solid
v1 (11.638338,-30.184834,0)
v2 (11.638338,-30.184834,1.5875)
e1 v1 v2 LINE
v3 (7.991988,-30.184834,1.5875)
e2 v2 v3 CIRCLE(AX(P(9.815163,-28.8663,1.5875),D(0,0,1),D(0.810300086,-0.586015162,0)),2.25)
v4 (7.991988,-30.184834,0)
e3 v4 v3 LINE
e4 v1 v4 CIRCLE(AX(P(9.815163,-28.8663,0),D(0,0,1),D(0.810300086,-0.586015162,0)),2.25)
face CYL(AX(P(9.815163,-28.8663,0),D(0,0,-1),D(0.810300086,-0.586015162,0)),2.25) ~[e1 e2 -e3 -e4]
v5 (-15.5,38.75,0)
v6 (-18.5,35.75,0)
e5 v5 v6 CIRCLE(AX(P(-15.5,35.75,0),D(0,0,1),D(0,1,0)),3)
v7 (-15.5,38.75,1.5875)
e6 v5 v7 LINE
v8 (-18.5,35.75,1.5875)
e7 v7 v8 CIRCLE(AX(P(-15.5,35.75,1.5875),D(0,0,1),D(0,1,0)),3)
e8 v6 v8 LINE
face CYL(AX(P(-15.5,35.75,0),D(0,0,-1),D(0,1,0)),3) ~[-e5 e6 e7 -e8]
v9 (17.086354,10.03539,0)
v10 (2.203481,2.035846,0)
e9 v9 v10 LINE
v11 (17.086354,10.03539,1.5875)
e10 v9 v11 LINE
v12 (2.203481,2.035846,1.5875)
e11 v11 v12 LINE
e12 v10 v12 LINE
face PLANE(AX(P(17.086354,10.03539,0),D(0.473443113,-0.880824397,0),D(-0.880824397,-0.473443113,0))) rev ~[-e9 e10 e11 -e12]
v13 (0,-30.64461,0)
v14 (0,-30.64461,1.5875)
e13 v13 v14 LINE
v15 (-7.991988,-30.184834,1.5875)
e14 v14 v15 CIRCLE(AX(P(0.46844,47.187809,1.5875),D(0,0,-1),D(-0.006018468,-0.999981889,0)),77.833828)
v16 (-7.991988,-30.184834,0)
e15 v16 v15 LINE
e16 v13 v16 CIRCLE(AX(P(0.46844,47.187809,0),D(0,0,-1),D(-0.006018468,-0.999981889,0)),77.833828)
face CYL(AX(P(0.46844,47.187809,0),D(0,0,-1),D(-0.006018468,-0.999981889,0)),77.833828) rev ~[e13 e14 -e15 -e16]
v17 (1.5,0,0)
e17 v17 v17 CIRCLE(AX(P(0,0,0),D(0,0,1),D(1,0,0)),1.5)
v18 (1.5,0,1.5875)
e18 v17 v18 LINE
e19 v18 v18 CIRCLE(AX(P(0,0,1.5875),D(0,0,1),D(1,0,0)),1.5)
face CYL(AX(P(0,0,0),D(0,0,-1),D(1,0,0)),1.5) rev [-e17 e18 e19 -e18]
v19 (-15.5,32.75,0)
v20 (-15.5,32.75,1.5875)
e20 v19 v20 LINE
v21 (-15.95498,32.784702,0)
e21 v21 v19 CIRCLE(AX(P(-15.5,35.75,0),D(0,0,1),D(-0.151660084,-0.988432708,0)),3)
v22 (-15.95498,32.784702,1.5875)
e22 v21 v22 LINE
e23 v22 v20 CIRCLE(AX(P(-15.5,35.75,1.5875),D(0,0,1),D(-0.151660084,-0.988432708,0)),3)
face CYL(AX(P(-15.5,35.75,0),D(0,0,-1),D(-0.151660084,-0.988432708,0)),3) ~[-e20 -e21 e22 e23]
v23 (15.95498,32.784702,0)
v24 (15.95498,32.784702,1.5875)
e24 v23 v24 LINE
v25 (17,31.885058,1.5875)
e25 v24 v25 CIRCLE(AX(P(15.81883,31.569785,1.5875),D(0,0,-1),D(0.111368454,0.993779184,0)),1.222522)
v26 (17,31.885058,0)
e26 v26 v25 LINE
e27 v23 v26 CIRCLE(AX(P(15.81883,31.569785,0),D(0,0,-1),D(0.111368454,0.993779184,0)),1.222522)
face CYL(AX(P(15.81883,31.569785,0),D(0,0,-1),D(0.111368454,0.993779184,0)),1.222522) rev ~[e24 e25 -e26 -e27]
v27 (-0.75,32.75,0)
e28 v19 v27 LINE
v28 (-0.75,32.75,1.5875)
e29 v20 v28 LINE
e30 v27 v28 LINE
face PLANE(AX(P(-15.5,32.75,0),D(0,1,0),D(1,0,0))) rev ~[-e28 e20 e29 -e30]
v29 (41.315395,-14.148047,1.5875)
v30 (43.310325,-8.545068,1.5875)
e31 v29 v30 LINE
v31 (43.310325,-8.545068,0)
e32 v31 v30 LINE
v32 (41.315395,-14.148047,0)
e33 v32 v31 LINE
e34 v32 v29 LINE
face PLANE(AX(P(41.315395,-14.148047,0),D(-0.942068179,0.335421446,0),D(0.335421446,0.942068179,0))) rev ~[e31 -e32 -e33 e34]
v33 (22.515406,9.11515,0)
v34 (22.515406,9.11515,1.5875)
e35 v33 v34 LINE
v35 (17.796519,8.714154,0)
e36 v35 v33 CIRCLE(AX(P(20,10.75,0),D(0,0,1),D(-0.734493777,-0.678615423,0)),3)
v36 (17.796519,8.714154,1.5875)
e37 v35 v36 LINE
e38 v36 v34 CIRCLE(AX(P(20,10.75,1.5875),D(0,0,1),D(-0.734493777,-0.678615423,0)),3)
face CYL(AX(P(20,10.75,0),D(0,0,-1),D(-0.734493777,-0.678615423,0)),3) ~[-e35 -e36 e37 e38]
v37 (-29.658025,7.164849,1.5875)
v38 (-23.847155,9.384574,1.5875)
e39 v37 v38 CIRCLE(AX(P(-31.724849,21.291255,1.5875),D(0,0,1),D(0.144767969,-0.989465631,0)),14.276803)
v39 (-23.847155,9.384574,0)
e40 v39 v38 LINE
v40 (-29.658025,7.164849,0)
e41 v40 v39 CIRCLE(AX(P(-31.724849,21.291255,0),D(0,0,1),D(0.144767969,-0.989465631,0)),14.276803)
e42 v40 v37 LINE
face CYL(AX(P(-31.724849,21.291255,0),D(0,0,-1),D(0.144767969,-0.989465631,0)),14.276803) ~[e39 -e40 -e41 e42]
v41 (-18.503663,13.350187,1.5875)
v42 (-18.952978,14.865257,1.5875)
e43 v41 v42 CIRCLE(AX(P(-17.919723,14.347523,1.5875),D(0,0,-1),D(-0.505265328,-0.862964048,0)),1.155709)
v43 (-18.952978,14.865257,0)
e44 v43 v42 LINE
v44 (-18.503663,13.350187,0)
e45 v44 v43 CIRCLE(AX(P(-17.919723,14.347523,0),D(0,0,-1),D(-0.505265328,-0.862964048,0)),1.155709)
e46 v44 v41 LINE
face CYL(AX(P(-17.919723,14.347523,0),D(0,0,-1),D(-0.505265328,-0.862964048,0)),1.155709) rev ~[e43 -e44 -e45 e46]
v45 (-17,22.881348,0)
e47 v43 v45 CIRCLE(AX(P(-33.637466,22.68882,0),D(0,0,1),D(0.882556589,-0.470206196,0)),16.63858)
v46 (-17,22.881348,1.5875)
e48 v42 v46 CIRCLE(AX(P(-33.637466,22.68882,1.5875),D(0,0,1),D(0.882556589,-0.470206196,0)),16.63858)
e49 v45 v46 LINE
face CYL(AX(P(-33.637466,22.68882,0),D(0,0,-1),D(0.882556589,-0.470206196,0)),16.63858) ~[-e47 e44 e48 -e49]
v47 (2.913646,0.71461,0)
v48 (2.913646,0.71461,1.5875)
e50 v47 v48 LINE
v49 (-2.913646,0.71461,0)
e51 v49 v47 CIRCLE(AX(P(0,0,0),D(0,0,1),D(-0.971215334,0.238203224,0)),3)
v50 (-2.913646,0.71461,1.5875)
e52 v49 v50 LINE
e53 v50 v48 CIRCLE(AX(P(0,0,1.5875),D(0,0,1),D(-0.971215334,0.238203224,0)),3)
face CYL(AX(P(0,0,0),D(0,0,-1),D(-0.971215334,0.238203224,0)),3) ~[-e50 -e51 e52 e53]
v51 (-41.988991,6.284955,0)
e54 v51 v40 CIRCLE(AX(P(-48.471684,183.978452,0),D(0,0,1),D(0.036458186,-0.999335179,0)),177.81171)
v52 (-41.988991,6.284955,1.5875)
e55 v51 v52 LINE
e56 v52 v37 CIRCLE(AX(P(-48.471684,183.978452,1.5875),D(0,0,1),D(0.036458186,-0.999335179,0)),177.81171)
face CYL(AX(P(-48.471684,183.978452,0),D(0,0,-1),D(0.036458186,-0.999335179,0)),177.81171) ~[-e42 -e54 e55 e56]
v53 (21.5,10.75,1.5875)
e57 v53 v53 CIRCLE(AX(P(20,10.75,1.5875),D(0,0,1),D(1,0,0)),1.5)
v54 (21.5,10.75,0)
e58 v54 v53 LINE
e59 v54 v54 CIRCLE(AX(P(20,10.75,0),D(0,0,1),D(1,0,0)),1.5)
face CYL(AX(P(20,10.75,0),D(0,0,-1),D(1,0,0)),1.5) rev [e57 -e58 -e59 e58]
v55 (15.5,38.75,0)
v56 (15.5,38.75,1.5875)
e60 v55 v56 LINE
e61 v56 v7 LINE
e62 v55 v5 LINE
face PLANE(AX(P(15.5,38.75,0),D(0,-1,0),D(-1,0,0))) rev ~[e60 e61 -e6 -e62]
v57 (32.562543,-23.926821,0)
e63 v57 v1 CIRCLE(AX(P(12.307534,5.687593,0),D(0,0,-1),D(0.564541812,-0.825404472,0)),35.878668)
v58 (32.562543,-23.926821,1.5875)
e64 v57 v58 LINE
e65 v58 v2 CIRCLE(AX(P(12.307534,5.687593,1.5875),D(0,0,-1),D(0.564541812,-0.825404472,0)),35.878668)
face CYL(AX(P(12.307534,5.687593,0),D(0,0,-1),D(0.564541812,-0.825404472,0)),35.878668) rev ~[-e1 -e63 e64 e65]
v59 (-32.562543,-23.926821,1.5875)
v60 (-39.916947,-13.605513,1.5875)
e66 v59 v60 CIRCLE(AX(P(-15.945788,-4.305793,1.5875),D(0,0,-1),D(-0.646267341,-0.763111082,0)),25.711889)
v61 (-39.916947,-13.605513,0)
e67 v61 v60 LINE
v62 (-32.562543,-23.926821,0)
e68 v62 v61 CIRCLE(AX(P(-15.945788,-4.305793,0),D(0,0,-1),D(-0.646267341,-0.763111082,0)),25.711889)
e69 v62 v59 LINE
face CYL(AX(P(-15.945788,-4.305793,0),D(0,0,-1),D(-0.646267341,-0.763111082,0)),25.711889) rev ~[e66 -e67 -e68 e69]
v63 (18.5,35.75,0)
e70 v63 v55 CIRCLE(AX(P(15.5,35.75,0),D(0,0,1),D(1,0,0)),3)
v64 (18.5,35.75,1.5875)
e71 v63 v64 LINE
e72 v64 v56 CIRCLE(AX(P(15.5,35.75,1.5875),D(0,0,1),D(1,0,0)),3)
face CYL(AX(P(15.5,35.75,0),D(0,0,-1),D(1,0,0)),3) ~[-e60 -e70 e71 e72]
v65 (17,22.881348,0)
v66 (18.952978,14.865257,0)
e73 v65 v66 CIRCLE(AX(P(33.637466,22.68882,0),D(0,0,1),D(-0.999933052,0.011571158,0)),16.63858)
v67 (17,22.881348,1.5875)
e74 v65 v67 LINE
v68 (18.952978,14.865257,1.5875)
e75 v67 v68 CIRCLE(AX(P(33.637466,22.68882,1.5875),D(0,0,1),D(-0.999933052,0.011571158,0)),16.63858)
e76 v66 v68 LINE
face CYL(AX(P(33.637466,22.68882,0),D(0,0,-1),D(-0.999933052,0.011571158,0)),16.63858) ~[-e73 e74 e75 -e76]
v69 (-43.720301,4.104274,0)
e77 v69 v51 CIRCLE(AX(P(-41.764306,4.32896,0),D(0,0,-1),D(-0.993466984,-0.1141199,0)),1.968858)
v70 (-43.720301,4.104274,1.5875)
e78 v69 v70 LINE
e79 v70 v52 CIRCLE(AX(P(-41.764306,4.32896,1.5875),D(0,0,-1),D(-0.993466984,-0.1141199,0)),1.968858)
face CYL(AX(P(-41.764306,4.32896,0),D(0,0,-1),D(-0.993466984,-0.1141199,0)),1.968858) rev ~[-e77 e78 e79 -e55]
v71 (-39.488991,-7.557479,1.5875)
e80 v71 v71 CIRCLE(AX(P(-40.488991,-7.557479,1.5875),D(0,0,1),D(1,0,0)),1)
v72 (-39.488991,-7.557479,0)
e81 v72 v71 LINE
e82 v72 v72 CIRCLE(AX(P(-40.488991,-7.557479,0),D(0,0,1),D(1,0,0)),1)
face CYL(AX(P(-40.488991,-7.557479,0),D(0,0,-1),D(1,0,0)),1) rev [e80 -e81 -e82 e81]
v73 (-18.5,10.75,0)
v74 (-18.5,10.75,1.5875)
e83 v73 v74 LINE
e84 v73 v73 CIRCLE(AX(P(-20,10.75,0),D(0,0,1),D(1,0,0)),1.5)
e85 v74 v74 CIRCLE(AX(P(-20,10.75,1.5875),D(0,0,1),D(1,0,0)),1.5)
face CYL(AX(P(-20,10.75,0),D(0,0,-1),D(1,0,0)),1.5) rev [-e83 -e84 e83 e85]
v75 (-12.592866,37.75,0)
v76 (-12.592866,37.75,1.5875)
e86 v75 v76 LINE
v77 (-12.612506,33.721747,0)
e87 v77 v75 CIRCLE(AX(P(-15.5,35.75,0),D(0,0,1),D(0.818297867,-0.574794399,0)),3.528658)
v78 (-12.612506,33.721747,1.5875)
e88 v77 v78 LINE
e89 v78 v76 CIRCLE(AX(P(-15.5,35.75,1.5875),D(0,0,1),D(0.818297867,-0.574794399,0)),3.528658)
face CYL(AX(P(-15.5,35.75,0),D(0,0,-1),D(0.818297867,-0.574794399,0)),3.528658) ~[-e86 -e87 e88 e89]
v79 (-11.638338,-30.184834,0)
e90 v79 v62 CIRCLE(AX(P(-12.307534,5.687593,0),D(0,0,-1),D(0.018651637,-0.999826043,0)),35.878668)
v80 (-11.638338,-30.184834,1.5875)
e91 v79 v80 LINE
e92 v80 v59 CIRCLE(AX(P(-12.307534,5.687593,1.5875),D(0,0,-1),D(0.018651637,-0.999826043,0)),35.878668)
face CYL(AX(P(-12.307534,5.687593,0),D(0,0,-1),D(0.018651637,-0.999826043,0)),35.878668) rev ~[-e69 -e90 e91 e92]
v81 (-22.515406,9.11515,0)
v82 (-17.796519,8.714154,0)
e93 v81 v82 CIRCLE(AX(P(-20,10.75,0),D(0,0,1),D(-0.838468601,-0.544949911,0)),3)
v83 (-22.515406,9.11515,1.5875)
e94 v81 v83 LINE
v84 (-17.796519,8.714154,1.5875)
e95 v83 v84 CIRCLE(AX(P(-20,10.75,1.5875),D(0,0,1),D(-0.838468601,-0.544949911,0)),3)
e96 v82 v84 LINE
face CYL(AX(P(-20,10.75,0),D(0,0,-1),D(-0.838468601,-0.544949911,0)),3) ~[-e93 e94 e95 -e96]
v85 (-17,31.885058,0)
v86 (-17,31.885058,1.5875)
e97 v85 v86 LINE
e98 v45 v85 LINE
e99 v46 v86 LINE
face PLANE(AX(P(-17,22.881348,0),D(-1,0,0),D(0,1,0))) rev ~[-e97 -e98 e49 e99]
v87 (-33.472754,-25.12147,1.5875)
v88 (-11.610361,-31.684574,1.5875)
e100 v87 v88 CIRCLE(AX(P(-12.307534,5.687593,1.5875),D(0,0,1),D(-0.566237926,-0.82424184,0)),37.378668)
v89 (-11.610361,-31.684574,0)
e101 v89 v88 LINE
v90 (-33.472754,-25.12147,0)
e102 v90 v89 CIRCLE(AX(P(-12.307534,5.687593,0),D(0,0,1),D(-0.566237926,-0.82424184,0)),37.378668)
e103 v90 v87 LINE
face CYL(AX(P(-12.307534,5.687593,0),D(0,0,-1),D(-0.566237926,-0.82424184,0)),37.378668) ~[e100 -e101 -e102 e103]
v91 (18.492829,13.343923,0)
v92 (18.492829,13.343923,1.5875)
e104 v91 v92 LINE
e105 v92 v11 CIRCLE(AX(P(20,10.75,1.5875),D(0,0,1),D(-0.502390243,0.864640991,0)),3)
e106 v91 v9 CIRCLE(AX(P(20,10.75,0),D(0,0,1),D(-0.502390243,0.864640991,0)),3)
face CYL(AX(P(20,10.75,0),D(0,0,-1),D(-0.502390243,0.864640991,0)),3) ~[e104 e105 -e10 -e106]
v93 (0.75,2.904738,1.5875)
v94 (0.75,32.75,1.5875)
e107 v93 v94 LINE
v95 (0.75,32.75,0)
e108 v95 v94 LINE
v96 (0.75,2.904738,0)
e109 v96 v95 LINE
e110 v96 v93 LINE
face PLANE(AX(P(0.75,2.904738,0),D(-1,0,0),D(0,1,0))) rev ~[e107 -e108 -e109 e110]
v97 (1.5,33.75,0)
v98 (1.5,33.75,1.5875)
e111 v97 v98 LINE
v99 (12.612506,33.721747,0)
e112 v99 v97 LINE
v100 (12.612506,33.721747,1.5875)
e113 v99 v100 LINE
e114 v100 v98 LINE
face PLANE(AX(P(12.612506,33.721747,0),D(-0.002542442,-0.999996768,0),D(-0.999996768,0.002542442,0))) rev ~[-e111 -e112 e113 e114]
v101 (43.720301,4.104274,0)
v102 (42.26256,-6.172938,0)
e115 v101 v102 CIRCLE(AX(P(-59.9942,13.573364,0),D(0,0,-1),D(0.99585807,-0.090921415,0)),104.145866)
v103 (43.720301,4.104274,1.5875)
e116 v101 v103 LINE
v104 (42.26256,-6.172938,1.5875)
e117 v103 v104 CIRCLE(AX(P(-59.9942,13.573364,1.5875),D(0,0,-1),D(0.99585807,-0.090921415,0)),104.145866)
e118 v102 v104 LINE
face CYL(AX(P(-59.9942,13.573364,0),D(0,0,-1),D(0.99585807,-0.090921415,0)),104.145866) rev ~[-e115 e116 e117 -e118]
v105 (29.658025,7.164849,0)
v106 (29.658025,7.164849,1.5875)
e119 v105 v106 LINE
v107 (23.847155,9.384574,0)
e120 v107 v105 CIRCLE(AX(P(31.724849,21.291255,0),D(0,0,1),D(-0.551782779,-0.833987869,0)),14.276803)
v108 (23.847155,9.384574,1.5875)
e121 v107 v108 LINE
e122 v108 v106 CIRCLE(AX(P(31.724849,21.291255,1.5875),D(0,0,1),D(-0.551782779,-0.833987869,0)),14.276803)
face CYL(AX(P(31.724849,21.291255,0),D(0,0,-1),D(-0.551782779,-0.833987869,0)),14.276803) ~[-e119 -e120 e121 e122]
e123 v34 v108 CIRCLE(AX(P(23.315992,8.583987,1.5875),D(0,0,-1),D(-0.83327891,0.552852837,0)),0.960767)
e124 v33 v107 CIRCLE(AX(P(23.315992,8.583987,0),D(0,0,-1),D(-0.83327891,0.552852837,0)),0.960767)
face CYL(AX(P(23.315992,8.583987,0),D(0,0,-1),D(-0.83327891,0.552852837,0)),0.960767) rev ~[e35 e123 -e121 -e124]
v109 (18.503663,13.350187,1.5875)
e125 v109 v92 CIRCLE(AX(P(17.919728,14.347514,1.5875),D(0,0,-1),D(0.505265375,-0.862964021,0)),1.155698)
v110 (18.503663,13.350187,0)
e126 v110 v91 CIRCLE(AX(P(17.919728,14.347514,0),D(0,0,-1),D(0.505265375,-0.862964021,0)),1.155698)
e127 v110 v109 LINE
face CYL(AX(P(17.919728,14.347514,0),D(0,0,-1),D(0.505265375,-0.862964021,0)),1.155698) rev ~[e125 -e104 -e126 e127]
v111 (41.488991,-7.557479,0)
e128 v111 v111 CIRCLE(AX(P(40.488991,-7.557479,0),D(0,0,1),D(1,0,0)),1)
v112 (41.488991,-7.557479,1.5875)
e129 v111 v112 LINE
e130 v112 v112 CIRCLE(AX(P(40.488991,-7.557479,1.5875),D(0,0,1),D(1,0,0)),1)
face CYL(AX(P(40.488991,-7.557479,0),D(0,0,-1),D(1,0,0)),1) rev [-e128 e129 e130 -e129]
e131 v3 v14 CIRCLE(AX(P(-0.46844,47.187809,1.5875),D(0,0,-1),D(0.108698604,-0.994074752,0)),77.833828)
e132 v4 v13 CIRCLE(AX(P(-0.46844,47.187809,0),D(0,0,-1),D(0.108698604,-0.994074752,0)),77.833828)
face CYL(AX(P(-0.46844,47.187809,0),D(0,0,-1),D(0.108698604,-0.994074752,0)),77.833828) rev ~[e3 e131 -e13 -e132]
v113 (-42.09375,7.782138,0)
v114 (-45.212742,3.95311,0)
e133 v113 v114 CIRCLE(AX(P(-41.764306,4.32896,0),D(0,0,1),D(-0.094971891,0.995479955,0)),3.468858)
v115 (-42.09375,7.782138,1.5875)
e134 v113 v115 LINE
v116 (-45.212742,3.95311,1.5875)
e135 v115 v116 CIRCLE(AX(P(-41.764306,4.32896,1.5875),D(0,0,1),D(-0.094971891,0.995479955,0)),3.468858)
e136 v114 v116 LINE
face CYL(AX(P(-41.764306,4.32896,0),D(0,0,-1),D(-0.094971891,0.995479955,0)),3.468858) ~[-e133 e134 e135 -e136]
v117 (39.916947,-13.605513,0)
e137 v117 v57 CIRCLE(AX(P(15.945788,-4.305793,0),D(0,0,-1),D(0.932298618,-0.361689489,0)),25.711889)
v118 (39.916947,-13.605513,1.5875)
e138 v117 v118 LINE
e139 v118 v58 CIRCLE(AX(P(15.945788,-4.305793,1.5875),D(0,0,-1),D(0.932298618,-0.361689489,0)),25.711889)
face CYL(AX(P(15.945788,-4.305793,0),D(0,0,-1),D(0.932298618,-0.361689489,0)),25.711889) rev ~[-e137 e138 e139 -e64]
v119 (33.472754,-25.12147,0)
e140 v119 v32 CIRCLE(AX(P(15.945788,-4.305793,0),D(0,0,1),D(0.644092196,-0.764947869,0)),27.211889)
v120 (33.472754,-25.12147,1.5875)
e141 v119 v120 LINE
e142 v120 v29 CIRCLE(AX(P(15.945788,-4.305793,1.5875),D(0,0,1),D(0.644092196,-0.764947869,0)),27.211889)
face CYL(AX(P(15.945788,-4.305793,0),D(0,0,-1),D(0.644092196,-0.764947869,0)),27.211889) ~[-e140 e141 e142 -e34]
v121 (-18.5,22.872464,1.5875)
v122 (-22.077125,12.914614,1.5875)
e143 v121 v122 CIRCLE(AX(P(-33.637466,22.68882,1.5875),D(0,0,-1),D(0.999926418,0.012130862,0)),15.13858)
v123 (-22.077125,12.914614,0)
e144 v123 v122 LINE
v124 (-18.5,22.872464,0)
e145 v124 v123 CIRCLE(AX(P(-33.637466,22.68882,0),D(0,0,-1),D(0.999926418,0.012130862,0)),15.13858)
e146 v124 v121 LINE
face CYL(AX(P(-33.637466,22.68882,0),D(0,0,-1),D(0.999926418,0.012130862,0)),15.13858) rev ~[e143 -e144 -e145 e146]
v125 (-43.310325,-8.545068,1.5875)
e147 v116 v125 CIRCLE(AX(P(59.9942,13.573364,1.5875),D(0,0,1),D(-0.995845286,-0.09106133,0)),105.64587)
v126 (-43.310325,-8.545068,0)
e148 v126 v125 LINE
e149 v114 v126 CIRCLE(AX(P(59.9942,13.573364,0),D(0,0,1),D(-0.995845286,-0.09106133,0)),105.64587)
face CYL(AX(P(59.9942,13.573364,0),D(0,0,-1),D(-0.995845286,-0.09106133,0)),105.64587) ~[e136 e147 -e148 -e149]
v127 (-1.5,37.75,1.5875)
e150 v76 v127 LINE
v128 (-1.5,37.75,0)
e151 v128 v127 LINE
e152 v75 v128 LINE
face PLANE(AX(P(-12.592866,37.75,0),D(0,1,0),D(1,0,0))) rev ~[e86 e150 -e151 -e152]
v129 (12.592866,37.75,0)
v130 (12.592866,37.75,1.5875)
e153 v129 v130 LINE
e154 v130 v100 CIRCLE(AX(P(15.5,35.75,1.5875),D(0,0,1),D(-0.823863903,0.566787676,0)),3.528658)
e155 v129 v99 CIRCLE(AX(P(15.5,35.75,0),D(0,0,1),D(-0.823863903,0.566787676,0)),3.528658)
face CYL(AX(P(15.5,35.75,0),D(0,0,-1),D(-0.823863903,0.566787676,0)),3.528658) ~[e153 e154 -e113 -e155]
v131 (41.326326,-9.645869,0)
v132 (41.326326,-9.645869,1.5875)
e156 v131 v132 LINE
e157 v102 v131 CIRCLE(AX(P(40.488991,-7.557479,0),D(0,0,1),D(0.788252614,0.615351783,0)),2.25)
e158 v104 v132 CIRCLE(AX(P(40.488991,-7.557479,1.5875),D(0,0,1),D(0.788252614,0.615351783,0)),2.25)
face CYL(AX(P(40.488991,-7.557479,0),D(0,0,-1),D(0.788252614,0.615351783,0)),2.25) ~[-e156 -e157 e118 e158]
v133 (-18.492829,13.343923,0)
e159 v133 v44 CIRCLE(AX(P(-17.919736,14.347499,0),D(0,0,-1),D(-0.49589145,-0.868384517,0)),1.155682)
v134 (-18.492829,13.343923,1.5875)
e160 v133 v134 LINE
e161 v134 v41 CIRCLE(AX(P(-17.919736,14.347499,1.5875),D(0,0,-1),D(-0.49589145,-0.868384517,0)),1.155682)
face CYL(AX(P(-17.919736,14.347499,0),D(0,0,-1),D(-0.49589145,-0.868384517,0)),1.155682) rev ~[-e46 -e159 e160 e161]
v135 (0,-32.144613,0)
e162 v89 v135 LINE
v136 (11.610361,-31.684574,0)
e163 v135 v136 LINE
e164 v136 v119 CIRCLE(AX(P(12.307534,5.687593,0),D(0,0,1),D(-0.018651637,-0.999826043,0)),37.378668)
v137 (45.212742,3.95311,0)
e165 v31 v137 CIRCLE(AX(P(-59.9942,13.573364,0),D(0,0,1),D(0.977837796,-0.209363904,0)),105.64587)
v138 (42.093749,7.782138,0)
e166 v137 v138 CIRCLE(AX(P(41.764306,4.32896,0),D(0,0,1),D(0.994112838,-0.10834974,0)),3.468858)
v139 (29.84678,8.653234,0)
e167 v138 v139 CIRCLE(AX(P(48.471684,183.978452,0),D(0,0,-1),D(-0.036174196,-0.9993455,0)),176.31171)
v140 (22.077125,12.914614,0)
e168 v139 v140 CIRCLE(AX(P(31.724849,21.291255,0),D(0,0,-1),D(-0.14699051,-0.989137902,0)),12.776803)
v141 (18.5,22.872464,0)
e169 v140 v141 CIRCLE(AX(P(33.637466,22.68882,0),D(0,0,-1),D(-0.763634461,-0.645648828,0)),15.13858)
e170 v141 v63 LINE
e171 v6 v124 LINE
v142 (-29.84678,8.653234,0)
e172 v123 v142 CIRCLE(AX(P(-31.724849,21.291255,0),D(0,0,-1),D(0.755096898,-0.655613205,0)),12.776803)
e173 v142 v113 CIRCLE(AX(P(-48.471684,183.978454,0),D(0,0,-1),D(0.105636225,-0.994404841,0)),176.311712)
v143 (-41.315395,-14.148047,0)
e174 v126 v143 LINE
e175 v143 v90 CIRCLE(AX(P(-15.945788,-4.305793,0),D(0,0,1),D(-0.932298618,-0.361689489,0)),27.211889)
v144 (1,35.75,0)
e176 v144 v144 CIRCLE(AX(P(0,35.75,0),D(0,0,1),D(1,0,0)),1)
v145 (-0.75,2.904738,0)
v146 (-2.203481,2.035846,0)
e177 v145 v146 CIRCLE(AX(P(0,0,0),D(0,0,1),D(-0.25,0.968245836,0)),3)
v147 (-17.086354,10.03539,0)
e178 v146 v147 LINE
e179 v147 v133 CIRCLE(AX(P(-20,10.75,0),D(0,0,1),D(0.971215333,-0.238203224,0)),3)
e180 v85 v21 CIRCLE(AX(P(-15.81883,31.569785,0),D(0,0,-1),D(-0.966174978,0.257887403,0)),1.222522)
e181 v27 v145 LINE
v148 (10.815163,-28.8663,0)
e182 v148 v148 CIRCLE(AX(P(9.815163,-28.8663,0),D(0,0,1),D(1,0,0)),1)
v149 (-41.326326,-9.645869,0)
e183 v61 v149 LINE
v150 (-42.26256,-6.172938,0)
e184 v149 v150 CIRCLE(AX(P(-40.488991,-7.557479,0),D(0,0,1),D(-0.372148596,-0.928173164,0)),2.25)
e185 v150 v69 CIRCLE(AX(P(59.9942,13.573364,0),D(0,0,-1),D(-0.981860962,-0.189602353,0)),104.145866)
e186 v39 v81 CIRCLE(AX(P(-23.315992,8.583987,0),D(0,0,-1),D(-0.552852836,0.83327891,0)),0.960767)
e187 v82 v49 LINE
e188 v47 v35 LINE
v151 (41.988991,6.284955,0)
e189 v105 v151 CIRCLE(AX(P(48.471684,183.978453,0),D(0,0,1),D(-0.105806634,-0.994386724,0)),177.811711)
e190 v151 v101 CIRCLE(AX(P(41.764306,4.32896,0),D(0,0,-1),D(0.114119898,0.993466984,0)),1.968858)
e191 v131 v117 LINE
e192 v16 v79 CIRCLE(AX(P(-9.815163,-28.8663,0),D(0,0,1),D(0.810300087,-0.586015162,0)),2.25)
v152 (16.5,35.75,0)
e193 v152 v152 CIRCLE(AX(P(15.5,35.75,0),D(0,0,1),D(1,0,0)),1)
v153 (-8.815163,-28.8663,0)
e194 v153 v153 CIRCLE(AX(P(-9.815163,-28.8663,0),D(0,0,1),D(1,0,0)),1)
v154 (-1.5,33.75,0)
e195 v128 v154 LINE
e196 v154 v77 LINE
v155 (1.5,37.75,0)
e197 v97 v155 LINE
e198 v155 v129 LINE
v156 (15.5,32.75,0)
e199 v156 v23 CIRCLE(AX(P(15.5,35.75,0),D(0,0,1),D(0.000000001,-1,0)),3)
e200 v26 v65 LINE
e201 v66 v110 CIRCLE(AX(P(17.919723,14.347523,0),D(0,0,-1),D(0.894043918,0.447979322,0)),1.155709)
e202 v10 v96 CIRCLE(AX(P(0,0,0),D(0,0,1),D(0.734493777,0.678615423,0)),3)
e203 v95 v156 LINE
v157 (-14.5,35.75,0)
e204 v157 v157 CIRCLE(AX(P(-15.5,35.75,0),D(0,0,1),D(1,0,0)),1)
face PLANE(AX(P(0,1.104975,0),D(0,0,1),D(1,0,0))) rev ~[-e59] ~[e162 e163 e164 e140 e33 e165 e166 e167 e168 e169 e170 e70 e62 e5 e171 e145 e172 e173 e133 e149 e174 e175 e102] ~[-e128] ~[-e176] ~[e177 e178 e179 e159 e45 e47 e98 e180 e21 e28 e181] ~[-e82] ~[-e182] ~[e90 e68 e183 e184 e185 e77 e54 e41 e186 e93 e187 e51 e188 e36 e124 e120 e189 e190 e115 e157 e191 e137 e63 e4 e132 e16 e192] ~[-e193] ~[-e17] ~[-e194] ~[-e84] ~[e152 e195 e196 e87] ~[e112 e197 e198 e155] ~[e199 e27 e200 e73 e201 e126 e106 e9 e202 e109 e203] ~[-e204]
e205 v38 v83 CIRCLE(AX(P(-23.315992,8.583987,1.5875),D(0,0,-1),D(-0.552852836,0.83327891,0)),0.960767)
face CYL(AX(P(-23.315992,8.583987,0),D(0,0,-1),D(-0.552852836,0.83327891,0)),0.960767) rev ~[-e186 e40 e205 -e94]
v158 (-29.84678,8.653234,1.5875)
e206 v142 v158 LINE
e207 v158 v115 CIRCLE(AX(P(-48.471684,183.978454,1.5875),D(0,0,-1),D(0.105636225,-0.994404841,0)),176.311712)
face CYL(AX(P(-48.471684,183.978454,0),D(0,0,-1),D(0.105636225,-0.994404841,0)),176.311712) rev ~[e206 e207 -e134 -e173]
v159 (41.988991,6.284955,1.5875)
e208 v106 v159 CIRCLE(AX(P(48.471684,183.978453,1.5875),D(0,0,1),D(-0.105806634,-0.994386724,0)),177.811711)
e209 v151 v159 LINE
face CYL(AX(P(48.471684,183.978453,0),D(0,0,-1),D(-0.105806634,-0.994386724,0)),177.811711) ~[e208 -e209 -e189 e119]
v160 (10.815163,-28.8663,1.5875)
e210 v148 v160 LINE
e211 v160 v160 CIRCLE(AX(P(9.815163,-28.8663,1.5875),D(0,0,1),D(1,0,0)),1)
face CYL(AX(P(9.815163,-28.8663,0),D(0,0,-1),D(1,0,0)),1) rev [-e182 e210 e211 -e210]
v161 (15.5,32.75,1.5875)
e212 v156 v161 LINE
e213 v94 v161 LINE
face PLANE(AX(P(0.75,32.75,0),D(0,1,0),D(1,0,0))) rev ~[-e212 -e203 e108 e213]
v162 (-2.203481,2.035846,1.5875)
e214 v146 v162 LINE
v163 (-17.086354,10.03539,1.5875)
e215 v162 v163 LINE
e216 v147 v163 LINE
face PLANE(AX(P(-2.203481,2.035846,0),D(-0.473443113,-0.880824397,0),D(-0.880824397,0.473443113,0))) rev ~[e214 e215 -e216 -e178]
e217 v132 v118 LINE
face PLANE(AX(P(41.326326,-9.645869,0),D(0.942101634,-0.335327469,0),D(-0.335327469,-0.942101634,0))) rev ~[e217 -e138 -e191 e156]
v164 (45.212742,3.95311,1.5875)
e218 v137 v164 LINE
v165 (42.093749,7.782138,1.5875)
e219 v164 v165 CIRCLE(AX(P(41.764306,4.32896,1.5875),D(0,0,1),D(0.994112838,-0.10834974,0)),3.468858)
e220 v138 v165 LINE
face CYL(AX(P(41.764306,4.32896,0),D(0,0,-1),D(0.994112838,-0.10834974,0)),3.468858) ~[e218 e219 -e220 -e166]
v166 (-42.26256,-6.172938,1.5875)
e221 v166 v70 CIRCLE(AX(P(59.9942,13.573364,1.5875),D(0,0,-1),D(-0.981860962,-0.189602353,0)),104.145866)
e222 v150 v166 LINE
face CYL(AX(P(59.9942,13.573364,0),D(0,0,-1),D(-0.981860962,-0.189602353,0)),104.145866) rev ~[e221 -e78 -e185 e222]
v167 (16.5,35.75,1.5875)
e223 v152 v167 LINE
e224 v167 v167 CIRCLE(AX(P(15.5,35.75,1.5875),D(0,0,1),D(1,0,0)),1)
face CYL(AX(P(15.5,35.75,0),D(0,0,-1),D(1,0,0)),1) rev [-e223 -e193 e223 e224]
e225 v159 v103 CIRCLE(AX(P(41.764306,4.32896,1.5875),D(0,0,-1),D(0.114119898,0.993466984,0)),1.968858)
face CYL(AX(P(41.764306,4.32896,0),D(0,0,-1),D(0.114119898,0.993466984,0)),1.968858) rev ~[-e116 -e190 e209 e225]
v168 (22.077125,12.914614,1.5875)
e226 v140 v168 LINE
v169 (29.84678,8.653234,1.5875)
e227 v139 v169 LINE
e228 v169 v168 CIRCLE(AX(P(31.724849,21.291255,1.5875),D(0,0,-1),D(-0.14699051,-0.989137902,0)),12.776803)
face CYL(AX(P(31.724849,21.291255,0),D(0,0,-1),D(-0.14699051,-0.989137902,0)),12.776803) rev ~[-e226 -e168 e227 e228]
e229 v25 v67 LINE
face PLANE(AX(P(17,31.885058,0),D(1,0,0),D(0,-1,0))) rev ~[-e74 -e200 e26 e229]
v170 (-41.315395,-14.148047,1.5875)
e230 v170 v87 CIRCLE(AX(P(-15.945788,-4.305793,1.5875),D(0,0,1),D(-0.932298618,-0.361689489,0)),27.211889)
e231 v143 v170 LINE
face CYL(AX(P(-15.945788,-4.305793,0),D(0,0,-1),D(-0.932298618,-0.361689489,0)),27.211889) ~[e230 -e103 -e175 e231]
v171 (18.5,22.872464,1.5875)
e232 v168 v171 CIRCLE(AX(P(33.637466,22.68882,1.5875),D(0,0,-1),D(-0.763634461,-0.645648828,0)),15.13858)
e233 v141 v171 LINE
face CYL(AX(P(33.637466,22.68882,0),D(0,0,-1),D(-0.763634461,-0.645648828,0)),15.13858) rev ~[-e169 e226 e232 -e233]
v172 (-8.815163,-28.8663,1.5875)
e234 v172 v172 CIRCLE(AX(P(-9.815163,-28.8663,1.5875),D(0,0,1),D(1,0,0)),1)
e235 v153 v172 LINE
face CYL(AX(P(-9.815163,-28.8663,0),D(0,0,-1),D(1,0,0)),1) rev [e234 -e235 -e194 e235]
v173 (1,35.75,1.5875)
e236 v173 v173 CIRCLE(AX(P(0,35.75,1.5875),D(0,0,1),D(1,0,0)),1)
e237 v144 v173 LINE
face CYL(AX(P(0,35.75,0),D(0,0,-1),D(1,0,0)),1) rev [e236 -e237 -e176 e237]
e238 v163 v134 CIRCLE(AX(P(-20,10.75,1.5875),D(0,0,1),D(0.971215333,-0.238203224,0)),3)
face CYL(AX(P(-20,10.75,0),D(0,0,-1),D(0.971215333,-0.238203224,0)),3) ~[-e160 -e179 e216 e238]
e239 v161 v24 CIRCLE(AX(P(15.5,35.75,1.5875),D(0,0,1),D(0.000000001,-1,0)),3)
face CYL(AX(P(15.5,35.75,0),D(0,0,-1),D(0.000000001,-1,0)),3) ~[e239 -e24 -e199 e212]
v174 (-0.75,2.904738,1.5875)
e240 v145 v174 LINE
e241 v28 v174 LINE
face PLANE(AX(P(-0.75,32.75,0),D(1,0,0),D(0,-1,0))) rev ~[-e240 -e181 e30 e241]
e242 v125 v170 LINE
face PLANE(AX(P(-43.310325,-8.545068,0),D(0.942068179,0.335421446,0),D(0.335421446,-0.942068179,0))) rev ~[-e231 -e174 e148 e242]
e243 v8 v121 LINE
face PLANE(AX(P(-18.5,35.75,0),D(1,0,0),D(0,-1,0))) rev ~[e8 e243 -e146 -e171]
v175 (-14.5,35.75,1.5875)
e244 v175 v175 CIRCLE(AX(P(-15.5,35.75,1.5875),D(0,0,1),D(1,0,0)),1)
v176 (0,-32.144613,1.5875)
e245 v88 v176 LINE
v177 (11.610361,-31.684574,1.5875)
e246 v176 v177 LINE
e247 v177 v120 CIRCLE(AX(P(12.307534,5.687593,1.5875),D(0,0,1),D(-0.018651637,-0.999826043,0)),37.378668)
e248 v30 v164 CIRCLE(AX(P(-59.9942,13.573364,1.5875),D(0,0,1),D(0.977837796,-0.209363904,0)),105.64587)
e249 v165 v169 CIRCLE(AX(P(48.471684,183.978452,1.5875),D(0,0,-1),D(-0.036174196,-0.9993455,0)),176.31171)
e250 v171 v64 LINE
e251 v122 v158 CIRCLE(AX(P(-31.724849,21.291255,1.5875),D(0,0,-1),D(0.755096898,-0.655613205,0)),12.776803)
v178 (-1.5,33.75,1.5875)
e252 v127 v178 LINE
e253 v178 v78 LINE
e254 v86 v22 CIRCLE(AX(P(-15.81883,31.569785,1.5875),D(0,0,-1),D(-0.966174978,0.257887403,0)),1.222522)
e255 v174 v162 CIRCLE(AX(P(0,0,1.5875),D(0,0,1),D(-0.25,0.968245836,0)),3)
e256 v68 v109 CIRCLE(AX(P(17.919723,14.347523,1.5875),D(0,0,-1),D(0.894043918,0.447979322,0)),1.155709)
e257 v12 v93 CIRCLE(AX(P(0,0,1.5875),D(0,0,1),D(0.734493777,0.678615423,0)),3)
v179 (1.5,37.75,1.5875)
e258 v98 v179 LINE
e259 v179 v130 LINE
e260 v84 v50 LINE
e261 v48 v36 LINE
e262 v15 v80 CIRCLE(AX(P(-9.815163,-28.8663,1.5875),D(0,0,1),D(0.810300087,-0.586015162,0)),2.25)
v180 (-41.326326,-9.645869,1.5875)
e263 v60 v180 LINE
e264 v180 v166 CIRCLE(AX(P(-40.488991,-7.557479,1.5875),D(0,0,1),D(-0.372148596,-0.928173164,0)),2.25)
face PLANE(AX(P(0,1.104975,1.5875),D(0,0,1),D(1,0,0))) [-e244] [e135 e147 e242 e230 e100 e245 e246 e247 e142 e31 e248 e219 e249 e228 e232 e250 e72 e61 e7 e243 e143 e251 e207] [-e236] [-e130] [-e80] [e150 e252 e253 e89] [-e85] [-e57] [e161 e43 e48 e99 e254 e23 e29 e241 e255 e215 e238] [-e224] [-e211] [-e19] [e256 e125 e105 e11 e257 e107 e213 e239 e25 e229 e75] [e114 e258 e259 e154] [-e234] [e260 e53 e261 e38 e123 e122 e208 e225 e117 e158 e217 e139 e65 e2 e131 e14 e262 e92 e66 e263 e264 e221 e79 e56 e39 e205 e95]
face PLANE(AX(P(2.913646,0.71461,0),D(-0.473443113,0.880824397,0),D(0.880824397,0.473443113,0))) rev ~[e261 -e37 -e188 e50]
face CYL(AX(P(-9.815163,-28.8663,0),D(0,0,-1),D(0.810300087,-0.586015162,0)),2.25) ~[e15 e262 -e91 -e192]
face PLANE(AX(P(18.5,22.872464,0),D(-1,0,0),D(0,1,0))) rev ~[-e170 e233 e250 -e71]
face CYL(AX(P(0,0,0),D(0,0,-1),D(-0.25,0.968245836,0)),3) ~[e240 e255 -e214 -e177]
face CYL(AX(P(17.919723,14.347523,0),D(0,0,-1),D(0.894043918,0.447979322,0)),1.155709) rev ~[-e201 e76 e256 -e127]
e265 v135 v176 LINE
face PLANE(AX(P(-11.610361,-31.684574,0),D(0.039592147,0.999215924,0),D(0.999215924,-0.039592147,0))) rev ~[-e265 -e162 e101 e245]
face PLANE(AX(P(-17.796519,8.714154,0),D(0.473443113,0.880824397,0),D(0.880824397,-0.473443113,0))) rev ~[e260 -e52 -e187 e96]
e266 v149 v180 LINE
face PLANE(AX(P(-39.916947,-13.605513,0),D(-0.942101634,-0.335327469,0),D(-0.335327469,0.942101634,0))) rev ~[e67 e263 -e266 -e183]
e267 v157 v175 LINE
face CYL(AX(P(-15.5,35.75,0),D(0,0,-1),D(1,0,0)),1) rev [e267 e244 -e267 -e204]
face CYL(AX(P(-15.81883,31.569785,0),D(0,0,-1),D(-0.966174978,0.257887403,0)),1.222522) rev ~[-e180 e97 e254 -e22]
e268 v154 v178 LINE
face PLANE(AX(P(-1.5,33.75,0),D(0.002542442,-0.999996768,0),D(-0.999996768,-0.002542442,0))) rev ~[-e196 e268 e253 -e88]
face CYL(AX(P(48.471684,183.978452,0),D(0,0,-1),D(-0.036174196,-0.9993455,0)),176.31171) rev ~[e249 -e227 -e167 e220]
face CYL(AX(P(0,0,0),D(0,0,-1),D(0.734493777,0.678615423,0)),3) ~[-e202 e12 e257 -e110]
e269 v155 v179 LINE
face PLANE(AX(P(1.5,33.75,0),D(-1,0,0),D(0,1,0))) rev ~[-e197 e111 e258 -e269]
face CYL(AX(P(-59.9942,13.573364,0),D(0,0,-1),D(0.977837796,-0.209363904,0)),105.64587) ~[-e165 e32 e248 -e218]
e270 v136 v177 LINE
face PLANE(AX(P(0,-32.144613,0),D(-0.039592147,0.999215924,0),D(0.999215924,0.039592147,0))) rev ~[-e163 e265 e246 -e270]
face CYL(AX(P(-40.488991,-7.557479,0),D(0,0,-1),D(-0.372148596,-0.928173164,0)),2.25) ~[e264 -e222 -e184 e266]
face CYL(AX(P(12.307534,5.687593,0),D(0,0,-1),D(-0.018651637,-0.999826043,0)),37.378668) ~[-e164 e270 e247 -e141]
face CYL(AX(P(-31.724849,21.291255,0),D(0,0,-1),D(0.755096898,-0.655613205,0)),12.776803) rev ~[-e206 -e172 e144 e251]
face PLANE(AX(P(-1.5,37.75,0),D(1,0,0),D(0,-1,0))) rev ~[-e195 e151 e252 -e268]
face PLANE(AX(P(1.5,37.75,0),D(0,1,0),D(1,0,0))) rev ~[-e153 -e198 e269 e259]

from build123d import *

# Parameters (mm, degrees)
SKETCH4_R           = 1
SKETCH4_R_2         = 1.5
SKETCH4_R_3         = 1.500000001
BOSS_EXTRUDE2_DEPTH = 1.5875


with BuildPart() as part:
    # Sketch4 → Boss-Extrude2 (new body)
    with BuildSketch(Plane.XY):
        with BuildLine():
            ThreePointArc((-33.472754103, -25.121469845), (-23.054804413, -30.112701264), (-11.610361031, -31.68457355))
            Line((-11.610361031, -31.68457355), (0, -32.144613372))
            Line((0, -32.144613372), (11.610361031, -31.68457355))
            ThreePointArc((11.610361031, -31.68457355), (23.054804413, -30.112701264), (33.472754103, -25.121469845))
            ThreePointArc((33.472754103, -25.121469845), (38.084735692, -20.128369992), (41.315395383, -14.148047401))
            Line((41.315395383, -14.148047401), (43.310324676, -8.545068137))
            ThreePointArc((43.310324676, -8.545068137), (44.448650445, -2.324461154), (45.212741618, 3.953110149))
            ThreePointArc((45.212741618, 3.953110149), (44.453814547, 6.519739723), (42.09374947, 7.782138432))
            ThreePointArc((42.09374947, 7.782138432), (35.962680022, 8.111048014), (29.846780413, 8.653234381))
            ThreePointArc((29.846780413, 8.653234381), (25.580679904, 10.088760175), (22.077124707, 12.914613823))
            ThreePointArc((22.077124707, 12.914613823), (19.390258386, 17.570844388), (18.500000009, 22.872464303))
            Line((18.500000009, 22.872464303), (18.500000009, 35.75))
            ThreePointArc((18.500000009, 35.75), (17.62132035, 37.87132035), (15.5, 38.750000009))
            Line((15.5, 38.750000009), (-15.5, 38.750000009))
            ThreePointArc((-15.5, 38.750000009), (-17.62132035, 37.87132035), (-18.500000009, 35.75))
            Line((-18.500000009, 35.75), (-18.500000009, 22.872464277))
            ThreePointArc((-18.500000009, 22.872464277), (-19.390258383, 17.570844381), (-22.07712469, 12.91461383))
            ThreePointArc((-22.07712469, 12.91461383), (-25.580679805, 10.088760216), (-29.846780215, 8.653234395))
            ThreePointArc((-29.846780215, 8.653234395), (-35.962679941, 8.111048017), (-42.093749505, 7.78213843))
            ThreePointArc((-42.093749505, 7.78213843), (-44.453814559, 6.519739711), (-45.212741618, 3.953110149))
            ThreePointArc((-45.212741618, 3.953110149), (-44.448650445, -2.324461154), (-43.310324676, -8.545068137))
            Line((-43.310324676, -8.545068137), (-41.315395383, -14.148047401))
            ThreePointArc((-41.315395383, -14.148047401), (-38.084735692, -20.128369992), (-33.472754103, -25.121469845))
        make_face()
        with Locations((-9.815163292, -28.866300371)):
            Circle(SKETCH4_R, mode=Mode.SUBTRACT)
        with Locations((-40.488991371, -7.557479081)):
            Circle(SKETCH4_R, mode=Mode.SUBTRACT)
        with BuildLine():
            Line((-39.916947455, -13.605513167), (-41.326325711, -9.6458687))
            ThreePointArc((-41.326325711, -9.6458687), (-38.316546684, -6.971830651), (-42.262559751, -6.172937569))
            ThreePointArc((-42.262559751, -6.172937569), (-43.119549374, -1.052504396), (-43.720300768, 4.104274139))
            ThreePointArc((-43.720300768, 4.104274139), (-43.306279922, 5.553180603), (-41.988991391, 6.284955247))
            ThreePointArc((-41.988991391, 6.284955247), (-35.815859297, 6.617706074), (-29.658025423, 7.164848598))
            ThreePointArc((-29.658025423, 7.164848598), (-26.630229039, 7.954390182), (-23.847155024, 9.384574043))
            ThreePointArc((-23.847155024, 9.384574043), (-23.125480938, 9.525676377), (-22.515405804, 9.115150267))
            ThreePointArc((-22.515405804, 9.115150267), (-20.254015304, 7.760773306), (-17.79651867, 8.714153732))
            Line((-17.79651867, 8.714153732), (-2.913646, 0.714609672))
            ThreePointArc((-2.913646, 0.714609672), (0, -3), (2.913646001, 0.714609672))
            Line((2.913646001, 0.714609672), (17.79651867, 8.714153732))
            ThreePointArc((17.79651867, 8.714153732), (20.254015126, 7.760773291), (22.515405609, 9.115149969))
            ThreePointArc((22.515405609, 9.115149969), (23.125480765, 9.52567634), (23.847155026, 9.384574041))
            ThreePointArc((23.847155026, 9.384574041), (26.630229041, 7.954390183), (29.658025423, 7.164848601))
            ThreePointArc((29.658025423, 7.164848601), (35.815859287, 6.617706075), (41.988991371, 6.284955244))
            ThreePointArc((41.988991371, 6.284955244), (43.306279914, 5.553180608), (43.720300768, 4.104274139))
            ThreePointArc((43.720300768, 4.104274139), (43.119549374, -1.052504396), (42.262559751, -6.172937569))
            ThreePointArc((42.262559751, -6.172937569), (38.316546684, -6.971830651), (41.326325712, -9.6458687))
            Line((41.326325712, -9.6458687), (39.916947456, -13.605513167))
            ThreePointArc((39.916947456, -13.605513167), (36.88563151, -19.226390572), (32.562542901, -23.926820768))
            ThreePointArc((32.562542901, -23.926820768), (22.58818115, -28.686629582), (11.638338487, -30.184834485))
            ThreePointArc((11.638338487, -30.184834485), (9.815163292, -26.616300371), (7.991988098, -30.184834485))
            ThreePointArc((7.991988098, -30.184834485), (4.00190894, -30.517536934), (0, -30.644609524))
            ThreePointArc((0, -30.644609524), (-4.00190894, -30.517536934), (-7.991988097, -30.184834485))
            ThreePointArc((-7.991988097, -30.184834485), (-9.815163292, -26.616300371), (-11.638338487, -30.184834485))
            ThreePointArc((-11.638338487, -30.184834485), (-22.58818115, -28.686629582), (-32.562542901, -23.926820768))
            ThreePointArc((-32.562542901, -23.926820768), (-36.88563151, -19.226390572), (-39.916947455, -13.605513167))
        make_face(mode=Mode.SUBTRACT)
        with Locations((9.815163292, -28.866300371)):
            Circle(SKETCH4_R, mode=Mode.SUBTRACT)
        Circle(SKETCH4_R_2, mode=Mode.SUBTRACT)
        with Locations((40.488991371, -7.557479081)):
            Circle(SKETCH4_R, mode=Mode.SUBTRACT)
        with Locations((-20.000000001, 10.750000001)):
            Circle(SKETCH4_R_3, mode=Mode.SUBTRACT)
        with BuildLine():
            ThreePointArc((-18.952977672, 14.865256843), (-17.471741936, 18.750329795), (-17.000000007, 22.881347914))
            Line((-17.000000007, 22.881347914), (-17.000000007, 31.885058019))
            ThreePointArc((-17.000000007, 31.885058019), (-16.616434483, 32.496276684), (-15.954980266, 32.784701868))
            ThreePointArc((-15.954980266, 32.784701868), (-15.728150861, 32.758688041), (-15.5, 32.749999991))
            Line((-15.5, 32.749999991), (-0.750000001, 32.749999991))
            Line((-0.750000001, 32.749999991), (-0.750000001, 2.90473751))
            ThreePointArc((-0.750000001, 2.90473751), (-1.539319977, 2.574974565), (-2.20348133, 2.035846268))
            Line((-2.20348133, 2.035846268), (-17.086354, 10.035390328))
            ThreePointArc((-17.086354, 10.035390328), (-17.239112062, 11.923668519), (-18.492829269, 13.343922973))
            ThreePointArc((-18.492829269, 13.343922973), (-18.498254435, 13.347040523), (-18.503662642, 13.3501874))
            ThreePointArc((-18.503662642, 13.3501874), (-19.027733875, 14.018926796), (-18.952977672, 14.865256843))
        make_face(mode=Mode.SUBTRACT)
        with Locations((-15.5, 35.75)):
            Circle(SKETCH4_R, mode=Mode.SUBTRACT)
        with BuildLine():
            Line((-12.592865853, 37.75), (-1.5, 37.75))
            Line((-1.5, 37.75), (-1.5, 33.75))
            Line((-1.5, 33.75), (-12.612506492, 33.721747011))
            ThreePointArc((-12.612506492, 33.721747011), (-11.971383706, 35.732795451), (-12.592865853, 37.75))
        make_face(mode=Mode.SUBTRACT)
        with Locations((20, 10.75)):
            Circle(SKETCH4_R_2, mode=Mode.SUBTRACT)
        with BuildLine():
            Line((17.000000002, 31.88505801), (17.000000002, 22.881347906))
            ThreePointArc((17.000000002, 22.881347906), (17.471741935, 18.750329789), (18.952977675, 14.865256841))
            ThreePointArc((18.952977675, 14.865256841), (19.027733877, 14.018926793), (18.503662642, 13.350187397))
            ThreePointArc((18.503662642, 13.350187397), (18.498254436, 13.347040521), (18.492829272, 13.343922972))
            ThreePointArc((18.492829271, 13.343922974), (17.239112062, 11.923668519), (17.086354, 10.035390328))
            Line((17.086354, 10.035390328), (2.20348133, 2.035846268))
            ThreePointArc((2.20348133, 2.035846268), (1.539319976, 2.574974565), (0.749999999, 2.90473751))
            Line((0.749999999, 2.90473751), (0.749999999, 32.749999991))
            Line((0.749999999, 32.749999991), (15.5, 32.749999991))
            ThreePointArc((15.5, 32.749999991), (15.728150862, 32.758688041), (15.954980267, 32.784701869))
            ThreePointArc((15.954980267, 32.784701869), (16.616434482, 32.496276679), (17.000000002, 31.88505801))
        make_face(mode=Mode.SUBTRACT)
        with Locations((0, 35.75)):
            Circle(SKETCH4_R, mode=Mode.SUBTRACT)
        with BuildLine():
            Line((1.5, 33.75), (1.5, 37.75))
            Line((1.5, 37.75), (12.592865854, 37.75))
            ThreePointArc((12.592865854, 37.75), (11.971383706, 35.732795451), (12.612506492, 33.721747011))
            Line((12.612506492, 33.721747011), (1.5, 33.75))
        make_face(mode=Mode.SUBTRACT)
        with Locations((15.5, 35.75)):
            Circle(SKETCH4_R, mode=Mode.SUBTRACT)
    extrude(amount=BOSS_EXTRUDE2_DEPTH)


solid = part.part
